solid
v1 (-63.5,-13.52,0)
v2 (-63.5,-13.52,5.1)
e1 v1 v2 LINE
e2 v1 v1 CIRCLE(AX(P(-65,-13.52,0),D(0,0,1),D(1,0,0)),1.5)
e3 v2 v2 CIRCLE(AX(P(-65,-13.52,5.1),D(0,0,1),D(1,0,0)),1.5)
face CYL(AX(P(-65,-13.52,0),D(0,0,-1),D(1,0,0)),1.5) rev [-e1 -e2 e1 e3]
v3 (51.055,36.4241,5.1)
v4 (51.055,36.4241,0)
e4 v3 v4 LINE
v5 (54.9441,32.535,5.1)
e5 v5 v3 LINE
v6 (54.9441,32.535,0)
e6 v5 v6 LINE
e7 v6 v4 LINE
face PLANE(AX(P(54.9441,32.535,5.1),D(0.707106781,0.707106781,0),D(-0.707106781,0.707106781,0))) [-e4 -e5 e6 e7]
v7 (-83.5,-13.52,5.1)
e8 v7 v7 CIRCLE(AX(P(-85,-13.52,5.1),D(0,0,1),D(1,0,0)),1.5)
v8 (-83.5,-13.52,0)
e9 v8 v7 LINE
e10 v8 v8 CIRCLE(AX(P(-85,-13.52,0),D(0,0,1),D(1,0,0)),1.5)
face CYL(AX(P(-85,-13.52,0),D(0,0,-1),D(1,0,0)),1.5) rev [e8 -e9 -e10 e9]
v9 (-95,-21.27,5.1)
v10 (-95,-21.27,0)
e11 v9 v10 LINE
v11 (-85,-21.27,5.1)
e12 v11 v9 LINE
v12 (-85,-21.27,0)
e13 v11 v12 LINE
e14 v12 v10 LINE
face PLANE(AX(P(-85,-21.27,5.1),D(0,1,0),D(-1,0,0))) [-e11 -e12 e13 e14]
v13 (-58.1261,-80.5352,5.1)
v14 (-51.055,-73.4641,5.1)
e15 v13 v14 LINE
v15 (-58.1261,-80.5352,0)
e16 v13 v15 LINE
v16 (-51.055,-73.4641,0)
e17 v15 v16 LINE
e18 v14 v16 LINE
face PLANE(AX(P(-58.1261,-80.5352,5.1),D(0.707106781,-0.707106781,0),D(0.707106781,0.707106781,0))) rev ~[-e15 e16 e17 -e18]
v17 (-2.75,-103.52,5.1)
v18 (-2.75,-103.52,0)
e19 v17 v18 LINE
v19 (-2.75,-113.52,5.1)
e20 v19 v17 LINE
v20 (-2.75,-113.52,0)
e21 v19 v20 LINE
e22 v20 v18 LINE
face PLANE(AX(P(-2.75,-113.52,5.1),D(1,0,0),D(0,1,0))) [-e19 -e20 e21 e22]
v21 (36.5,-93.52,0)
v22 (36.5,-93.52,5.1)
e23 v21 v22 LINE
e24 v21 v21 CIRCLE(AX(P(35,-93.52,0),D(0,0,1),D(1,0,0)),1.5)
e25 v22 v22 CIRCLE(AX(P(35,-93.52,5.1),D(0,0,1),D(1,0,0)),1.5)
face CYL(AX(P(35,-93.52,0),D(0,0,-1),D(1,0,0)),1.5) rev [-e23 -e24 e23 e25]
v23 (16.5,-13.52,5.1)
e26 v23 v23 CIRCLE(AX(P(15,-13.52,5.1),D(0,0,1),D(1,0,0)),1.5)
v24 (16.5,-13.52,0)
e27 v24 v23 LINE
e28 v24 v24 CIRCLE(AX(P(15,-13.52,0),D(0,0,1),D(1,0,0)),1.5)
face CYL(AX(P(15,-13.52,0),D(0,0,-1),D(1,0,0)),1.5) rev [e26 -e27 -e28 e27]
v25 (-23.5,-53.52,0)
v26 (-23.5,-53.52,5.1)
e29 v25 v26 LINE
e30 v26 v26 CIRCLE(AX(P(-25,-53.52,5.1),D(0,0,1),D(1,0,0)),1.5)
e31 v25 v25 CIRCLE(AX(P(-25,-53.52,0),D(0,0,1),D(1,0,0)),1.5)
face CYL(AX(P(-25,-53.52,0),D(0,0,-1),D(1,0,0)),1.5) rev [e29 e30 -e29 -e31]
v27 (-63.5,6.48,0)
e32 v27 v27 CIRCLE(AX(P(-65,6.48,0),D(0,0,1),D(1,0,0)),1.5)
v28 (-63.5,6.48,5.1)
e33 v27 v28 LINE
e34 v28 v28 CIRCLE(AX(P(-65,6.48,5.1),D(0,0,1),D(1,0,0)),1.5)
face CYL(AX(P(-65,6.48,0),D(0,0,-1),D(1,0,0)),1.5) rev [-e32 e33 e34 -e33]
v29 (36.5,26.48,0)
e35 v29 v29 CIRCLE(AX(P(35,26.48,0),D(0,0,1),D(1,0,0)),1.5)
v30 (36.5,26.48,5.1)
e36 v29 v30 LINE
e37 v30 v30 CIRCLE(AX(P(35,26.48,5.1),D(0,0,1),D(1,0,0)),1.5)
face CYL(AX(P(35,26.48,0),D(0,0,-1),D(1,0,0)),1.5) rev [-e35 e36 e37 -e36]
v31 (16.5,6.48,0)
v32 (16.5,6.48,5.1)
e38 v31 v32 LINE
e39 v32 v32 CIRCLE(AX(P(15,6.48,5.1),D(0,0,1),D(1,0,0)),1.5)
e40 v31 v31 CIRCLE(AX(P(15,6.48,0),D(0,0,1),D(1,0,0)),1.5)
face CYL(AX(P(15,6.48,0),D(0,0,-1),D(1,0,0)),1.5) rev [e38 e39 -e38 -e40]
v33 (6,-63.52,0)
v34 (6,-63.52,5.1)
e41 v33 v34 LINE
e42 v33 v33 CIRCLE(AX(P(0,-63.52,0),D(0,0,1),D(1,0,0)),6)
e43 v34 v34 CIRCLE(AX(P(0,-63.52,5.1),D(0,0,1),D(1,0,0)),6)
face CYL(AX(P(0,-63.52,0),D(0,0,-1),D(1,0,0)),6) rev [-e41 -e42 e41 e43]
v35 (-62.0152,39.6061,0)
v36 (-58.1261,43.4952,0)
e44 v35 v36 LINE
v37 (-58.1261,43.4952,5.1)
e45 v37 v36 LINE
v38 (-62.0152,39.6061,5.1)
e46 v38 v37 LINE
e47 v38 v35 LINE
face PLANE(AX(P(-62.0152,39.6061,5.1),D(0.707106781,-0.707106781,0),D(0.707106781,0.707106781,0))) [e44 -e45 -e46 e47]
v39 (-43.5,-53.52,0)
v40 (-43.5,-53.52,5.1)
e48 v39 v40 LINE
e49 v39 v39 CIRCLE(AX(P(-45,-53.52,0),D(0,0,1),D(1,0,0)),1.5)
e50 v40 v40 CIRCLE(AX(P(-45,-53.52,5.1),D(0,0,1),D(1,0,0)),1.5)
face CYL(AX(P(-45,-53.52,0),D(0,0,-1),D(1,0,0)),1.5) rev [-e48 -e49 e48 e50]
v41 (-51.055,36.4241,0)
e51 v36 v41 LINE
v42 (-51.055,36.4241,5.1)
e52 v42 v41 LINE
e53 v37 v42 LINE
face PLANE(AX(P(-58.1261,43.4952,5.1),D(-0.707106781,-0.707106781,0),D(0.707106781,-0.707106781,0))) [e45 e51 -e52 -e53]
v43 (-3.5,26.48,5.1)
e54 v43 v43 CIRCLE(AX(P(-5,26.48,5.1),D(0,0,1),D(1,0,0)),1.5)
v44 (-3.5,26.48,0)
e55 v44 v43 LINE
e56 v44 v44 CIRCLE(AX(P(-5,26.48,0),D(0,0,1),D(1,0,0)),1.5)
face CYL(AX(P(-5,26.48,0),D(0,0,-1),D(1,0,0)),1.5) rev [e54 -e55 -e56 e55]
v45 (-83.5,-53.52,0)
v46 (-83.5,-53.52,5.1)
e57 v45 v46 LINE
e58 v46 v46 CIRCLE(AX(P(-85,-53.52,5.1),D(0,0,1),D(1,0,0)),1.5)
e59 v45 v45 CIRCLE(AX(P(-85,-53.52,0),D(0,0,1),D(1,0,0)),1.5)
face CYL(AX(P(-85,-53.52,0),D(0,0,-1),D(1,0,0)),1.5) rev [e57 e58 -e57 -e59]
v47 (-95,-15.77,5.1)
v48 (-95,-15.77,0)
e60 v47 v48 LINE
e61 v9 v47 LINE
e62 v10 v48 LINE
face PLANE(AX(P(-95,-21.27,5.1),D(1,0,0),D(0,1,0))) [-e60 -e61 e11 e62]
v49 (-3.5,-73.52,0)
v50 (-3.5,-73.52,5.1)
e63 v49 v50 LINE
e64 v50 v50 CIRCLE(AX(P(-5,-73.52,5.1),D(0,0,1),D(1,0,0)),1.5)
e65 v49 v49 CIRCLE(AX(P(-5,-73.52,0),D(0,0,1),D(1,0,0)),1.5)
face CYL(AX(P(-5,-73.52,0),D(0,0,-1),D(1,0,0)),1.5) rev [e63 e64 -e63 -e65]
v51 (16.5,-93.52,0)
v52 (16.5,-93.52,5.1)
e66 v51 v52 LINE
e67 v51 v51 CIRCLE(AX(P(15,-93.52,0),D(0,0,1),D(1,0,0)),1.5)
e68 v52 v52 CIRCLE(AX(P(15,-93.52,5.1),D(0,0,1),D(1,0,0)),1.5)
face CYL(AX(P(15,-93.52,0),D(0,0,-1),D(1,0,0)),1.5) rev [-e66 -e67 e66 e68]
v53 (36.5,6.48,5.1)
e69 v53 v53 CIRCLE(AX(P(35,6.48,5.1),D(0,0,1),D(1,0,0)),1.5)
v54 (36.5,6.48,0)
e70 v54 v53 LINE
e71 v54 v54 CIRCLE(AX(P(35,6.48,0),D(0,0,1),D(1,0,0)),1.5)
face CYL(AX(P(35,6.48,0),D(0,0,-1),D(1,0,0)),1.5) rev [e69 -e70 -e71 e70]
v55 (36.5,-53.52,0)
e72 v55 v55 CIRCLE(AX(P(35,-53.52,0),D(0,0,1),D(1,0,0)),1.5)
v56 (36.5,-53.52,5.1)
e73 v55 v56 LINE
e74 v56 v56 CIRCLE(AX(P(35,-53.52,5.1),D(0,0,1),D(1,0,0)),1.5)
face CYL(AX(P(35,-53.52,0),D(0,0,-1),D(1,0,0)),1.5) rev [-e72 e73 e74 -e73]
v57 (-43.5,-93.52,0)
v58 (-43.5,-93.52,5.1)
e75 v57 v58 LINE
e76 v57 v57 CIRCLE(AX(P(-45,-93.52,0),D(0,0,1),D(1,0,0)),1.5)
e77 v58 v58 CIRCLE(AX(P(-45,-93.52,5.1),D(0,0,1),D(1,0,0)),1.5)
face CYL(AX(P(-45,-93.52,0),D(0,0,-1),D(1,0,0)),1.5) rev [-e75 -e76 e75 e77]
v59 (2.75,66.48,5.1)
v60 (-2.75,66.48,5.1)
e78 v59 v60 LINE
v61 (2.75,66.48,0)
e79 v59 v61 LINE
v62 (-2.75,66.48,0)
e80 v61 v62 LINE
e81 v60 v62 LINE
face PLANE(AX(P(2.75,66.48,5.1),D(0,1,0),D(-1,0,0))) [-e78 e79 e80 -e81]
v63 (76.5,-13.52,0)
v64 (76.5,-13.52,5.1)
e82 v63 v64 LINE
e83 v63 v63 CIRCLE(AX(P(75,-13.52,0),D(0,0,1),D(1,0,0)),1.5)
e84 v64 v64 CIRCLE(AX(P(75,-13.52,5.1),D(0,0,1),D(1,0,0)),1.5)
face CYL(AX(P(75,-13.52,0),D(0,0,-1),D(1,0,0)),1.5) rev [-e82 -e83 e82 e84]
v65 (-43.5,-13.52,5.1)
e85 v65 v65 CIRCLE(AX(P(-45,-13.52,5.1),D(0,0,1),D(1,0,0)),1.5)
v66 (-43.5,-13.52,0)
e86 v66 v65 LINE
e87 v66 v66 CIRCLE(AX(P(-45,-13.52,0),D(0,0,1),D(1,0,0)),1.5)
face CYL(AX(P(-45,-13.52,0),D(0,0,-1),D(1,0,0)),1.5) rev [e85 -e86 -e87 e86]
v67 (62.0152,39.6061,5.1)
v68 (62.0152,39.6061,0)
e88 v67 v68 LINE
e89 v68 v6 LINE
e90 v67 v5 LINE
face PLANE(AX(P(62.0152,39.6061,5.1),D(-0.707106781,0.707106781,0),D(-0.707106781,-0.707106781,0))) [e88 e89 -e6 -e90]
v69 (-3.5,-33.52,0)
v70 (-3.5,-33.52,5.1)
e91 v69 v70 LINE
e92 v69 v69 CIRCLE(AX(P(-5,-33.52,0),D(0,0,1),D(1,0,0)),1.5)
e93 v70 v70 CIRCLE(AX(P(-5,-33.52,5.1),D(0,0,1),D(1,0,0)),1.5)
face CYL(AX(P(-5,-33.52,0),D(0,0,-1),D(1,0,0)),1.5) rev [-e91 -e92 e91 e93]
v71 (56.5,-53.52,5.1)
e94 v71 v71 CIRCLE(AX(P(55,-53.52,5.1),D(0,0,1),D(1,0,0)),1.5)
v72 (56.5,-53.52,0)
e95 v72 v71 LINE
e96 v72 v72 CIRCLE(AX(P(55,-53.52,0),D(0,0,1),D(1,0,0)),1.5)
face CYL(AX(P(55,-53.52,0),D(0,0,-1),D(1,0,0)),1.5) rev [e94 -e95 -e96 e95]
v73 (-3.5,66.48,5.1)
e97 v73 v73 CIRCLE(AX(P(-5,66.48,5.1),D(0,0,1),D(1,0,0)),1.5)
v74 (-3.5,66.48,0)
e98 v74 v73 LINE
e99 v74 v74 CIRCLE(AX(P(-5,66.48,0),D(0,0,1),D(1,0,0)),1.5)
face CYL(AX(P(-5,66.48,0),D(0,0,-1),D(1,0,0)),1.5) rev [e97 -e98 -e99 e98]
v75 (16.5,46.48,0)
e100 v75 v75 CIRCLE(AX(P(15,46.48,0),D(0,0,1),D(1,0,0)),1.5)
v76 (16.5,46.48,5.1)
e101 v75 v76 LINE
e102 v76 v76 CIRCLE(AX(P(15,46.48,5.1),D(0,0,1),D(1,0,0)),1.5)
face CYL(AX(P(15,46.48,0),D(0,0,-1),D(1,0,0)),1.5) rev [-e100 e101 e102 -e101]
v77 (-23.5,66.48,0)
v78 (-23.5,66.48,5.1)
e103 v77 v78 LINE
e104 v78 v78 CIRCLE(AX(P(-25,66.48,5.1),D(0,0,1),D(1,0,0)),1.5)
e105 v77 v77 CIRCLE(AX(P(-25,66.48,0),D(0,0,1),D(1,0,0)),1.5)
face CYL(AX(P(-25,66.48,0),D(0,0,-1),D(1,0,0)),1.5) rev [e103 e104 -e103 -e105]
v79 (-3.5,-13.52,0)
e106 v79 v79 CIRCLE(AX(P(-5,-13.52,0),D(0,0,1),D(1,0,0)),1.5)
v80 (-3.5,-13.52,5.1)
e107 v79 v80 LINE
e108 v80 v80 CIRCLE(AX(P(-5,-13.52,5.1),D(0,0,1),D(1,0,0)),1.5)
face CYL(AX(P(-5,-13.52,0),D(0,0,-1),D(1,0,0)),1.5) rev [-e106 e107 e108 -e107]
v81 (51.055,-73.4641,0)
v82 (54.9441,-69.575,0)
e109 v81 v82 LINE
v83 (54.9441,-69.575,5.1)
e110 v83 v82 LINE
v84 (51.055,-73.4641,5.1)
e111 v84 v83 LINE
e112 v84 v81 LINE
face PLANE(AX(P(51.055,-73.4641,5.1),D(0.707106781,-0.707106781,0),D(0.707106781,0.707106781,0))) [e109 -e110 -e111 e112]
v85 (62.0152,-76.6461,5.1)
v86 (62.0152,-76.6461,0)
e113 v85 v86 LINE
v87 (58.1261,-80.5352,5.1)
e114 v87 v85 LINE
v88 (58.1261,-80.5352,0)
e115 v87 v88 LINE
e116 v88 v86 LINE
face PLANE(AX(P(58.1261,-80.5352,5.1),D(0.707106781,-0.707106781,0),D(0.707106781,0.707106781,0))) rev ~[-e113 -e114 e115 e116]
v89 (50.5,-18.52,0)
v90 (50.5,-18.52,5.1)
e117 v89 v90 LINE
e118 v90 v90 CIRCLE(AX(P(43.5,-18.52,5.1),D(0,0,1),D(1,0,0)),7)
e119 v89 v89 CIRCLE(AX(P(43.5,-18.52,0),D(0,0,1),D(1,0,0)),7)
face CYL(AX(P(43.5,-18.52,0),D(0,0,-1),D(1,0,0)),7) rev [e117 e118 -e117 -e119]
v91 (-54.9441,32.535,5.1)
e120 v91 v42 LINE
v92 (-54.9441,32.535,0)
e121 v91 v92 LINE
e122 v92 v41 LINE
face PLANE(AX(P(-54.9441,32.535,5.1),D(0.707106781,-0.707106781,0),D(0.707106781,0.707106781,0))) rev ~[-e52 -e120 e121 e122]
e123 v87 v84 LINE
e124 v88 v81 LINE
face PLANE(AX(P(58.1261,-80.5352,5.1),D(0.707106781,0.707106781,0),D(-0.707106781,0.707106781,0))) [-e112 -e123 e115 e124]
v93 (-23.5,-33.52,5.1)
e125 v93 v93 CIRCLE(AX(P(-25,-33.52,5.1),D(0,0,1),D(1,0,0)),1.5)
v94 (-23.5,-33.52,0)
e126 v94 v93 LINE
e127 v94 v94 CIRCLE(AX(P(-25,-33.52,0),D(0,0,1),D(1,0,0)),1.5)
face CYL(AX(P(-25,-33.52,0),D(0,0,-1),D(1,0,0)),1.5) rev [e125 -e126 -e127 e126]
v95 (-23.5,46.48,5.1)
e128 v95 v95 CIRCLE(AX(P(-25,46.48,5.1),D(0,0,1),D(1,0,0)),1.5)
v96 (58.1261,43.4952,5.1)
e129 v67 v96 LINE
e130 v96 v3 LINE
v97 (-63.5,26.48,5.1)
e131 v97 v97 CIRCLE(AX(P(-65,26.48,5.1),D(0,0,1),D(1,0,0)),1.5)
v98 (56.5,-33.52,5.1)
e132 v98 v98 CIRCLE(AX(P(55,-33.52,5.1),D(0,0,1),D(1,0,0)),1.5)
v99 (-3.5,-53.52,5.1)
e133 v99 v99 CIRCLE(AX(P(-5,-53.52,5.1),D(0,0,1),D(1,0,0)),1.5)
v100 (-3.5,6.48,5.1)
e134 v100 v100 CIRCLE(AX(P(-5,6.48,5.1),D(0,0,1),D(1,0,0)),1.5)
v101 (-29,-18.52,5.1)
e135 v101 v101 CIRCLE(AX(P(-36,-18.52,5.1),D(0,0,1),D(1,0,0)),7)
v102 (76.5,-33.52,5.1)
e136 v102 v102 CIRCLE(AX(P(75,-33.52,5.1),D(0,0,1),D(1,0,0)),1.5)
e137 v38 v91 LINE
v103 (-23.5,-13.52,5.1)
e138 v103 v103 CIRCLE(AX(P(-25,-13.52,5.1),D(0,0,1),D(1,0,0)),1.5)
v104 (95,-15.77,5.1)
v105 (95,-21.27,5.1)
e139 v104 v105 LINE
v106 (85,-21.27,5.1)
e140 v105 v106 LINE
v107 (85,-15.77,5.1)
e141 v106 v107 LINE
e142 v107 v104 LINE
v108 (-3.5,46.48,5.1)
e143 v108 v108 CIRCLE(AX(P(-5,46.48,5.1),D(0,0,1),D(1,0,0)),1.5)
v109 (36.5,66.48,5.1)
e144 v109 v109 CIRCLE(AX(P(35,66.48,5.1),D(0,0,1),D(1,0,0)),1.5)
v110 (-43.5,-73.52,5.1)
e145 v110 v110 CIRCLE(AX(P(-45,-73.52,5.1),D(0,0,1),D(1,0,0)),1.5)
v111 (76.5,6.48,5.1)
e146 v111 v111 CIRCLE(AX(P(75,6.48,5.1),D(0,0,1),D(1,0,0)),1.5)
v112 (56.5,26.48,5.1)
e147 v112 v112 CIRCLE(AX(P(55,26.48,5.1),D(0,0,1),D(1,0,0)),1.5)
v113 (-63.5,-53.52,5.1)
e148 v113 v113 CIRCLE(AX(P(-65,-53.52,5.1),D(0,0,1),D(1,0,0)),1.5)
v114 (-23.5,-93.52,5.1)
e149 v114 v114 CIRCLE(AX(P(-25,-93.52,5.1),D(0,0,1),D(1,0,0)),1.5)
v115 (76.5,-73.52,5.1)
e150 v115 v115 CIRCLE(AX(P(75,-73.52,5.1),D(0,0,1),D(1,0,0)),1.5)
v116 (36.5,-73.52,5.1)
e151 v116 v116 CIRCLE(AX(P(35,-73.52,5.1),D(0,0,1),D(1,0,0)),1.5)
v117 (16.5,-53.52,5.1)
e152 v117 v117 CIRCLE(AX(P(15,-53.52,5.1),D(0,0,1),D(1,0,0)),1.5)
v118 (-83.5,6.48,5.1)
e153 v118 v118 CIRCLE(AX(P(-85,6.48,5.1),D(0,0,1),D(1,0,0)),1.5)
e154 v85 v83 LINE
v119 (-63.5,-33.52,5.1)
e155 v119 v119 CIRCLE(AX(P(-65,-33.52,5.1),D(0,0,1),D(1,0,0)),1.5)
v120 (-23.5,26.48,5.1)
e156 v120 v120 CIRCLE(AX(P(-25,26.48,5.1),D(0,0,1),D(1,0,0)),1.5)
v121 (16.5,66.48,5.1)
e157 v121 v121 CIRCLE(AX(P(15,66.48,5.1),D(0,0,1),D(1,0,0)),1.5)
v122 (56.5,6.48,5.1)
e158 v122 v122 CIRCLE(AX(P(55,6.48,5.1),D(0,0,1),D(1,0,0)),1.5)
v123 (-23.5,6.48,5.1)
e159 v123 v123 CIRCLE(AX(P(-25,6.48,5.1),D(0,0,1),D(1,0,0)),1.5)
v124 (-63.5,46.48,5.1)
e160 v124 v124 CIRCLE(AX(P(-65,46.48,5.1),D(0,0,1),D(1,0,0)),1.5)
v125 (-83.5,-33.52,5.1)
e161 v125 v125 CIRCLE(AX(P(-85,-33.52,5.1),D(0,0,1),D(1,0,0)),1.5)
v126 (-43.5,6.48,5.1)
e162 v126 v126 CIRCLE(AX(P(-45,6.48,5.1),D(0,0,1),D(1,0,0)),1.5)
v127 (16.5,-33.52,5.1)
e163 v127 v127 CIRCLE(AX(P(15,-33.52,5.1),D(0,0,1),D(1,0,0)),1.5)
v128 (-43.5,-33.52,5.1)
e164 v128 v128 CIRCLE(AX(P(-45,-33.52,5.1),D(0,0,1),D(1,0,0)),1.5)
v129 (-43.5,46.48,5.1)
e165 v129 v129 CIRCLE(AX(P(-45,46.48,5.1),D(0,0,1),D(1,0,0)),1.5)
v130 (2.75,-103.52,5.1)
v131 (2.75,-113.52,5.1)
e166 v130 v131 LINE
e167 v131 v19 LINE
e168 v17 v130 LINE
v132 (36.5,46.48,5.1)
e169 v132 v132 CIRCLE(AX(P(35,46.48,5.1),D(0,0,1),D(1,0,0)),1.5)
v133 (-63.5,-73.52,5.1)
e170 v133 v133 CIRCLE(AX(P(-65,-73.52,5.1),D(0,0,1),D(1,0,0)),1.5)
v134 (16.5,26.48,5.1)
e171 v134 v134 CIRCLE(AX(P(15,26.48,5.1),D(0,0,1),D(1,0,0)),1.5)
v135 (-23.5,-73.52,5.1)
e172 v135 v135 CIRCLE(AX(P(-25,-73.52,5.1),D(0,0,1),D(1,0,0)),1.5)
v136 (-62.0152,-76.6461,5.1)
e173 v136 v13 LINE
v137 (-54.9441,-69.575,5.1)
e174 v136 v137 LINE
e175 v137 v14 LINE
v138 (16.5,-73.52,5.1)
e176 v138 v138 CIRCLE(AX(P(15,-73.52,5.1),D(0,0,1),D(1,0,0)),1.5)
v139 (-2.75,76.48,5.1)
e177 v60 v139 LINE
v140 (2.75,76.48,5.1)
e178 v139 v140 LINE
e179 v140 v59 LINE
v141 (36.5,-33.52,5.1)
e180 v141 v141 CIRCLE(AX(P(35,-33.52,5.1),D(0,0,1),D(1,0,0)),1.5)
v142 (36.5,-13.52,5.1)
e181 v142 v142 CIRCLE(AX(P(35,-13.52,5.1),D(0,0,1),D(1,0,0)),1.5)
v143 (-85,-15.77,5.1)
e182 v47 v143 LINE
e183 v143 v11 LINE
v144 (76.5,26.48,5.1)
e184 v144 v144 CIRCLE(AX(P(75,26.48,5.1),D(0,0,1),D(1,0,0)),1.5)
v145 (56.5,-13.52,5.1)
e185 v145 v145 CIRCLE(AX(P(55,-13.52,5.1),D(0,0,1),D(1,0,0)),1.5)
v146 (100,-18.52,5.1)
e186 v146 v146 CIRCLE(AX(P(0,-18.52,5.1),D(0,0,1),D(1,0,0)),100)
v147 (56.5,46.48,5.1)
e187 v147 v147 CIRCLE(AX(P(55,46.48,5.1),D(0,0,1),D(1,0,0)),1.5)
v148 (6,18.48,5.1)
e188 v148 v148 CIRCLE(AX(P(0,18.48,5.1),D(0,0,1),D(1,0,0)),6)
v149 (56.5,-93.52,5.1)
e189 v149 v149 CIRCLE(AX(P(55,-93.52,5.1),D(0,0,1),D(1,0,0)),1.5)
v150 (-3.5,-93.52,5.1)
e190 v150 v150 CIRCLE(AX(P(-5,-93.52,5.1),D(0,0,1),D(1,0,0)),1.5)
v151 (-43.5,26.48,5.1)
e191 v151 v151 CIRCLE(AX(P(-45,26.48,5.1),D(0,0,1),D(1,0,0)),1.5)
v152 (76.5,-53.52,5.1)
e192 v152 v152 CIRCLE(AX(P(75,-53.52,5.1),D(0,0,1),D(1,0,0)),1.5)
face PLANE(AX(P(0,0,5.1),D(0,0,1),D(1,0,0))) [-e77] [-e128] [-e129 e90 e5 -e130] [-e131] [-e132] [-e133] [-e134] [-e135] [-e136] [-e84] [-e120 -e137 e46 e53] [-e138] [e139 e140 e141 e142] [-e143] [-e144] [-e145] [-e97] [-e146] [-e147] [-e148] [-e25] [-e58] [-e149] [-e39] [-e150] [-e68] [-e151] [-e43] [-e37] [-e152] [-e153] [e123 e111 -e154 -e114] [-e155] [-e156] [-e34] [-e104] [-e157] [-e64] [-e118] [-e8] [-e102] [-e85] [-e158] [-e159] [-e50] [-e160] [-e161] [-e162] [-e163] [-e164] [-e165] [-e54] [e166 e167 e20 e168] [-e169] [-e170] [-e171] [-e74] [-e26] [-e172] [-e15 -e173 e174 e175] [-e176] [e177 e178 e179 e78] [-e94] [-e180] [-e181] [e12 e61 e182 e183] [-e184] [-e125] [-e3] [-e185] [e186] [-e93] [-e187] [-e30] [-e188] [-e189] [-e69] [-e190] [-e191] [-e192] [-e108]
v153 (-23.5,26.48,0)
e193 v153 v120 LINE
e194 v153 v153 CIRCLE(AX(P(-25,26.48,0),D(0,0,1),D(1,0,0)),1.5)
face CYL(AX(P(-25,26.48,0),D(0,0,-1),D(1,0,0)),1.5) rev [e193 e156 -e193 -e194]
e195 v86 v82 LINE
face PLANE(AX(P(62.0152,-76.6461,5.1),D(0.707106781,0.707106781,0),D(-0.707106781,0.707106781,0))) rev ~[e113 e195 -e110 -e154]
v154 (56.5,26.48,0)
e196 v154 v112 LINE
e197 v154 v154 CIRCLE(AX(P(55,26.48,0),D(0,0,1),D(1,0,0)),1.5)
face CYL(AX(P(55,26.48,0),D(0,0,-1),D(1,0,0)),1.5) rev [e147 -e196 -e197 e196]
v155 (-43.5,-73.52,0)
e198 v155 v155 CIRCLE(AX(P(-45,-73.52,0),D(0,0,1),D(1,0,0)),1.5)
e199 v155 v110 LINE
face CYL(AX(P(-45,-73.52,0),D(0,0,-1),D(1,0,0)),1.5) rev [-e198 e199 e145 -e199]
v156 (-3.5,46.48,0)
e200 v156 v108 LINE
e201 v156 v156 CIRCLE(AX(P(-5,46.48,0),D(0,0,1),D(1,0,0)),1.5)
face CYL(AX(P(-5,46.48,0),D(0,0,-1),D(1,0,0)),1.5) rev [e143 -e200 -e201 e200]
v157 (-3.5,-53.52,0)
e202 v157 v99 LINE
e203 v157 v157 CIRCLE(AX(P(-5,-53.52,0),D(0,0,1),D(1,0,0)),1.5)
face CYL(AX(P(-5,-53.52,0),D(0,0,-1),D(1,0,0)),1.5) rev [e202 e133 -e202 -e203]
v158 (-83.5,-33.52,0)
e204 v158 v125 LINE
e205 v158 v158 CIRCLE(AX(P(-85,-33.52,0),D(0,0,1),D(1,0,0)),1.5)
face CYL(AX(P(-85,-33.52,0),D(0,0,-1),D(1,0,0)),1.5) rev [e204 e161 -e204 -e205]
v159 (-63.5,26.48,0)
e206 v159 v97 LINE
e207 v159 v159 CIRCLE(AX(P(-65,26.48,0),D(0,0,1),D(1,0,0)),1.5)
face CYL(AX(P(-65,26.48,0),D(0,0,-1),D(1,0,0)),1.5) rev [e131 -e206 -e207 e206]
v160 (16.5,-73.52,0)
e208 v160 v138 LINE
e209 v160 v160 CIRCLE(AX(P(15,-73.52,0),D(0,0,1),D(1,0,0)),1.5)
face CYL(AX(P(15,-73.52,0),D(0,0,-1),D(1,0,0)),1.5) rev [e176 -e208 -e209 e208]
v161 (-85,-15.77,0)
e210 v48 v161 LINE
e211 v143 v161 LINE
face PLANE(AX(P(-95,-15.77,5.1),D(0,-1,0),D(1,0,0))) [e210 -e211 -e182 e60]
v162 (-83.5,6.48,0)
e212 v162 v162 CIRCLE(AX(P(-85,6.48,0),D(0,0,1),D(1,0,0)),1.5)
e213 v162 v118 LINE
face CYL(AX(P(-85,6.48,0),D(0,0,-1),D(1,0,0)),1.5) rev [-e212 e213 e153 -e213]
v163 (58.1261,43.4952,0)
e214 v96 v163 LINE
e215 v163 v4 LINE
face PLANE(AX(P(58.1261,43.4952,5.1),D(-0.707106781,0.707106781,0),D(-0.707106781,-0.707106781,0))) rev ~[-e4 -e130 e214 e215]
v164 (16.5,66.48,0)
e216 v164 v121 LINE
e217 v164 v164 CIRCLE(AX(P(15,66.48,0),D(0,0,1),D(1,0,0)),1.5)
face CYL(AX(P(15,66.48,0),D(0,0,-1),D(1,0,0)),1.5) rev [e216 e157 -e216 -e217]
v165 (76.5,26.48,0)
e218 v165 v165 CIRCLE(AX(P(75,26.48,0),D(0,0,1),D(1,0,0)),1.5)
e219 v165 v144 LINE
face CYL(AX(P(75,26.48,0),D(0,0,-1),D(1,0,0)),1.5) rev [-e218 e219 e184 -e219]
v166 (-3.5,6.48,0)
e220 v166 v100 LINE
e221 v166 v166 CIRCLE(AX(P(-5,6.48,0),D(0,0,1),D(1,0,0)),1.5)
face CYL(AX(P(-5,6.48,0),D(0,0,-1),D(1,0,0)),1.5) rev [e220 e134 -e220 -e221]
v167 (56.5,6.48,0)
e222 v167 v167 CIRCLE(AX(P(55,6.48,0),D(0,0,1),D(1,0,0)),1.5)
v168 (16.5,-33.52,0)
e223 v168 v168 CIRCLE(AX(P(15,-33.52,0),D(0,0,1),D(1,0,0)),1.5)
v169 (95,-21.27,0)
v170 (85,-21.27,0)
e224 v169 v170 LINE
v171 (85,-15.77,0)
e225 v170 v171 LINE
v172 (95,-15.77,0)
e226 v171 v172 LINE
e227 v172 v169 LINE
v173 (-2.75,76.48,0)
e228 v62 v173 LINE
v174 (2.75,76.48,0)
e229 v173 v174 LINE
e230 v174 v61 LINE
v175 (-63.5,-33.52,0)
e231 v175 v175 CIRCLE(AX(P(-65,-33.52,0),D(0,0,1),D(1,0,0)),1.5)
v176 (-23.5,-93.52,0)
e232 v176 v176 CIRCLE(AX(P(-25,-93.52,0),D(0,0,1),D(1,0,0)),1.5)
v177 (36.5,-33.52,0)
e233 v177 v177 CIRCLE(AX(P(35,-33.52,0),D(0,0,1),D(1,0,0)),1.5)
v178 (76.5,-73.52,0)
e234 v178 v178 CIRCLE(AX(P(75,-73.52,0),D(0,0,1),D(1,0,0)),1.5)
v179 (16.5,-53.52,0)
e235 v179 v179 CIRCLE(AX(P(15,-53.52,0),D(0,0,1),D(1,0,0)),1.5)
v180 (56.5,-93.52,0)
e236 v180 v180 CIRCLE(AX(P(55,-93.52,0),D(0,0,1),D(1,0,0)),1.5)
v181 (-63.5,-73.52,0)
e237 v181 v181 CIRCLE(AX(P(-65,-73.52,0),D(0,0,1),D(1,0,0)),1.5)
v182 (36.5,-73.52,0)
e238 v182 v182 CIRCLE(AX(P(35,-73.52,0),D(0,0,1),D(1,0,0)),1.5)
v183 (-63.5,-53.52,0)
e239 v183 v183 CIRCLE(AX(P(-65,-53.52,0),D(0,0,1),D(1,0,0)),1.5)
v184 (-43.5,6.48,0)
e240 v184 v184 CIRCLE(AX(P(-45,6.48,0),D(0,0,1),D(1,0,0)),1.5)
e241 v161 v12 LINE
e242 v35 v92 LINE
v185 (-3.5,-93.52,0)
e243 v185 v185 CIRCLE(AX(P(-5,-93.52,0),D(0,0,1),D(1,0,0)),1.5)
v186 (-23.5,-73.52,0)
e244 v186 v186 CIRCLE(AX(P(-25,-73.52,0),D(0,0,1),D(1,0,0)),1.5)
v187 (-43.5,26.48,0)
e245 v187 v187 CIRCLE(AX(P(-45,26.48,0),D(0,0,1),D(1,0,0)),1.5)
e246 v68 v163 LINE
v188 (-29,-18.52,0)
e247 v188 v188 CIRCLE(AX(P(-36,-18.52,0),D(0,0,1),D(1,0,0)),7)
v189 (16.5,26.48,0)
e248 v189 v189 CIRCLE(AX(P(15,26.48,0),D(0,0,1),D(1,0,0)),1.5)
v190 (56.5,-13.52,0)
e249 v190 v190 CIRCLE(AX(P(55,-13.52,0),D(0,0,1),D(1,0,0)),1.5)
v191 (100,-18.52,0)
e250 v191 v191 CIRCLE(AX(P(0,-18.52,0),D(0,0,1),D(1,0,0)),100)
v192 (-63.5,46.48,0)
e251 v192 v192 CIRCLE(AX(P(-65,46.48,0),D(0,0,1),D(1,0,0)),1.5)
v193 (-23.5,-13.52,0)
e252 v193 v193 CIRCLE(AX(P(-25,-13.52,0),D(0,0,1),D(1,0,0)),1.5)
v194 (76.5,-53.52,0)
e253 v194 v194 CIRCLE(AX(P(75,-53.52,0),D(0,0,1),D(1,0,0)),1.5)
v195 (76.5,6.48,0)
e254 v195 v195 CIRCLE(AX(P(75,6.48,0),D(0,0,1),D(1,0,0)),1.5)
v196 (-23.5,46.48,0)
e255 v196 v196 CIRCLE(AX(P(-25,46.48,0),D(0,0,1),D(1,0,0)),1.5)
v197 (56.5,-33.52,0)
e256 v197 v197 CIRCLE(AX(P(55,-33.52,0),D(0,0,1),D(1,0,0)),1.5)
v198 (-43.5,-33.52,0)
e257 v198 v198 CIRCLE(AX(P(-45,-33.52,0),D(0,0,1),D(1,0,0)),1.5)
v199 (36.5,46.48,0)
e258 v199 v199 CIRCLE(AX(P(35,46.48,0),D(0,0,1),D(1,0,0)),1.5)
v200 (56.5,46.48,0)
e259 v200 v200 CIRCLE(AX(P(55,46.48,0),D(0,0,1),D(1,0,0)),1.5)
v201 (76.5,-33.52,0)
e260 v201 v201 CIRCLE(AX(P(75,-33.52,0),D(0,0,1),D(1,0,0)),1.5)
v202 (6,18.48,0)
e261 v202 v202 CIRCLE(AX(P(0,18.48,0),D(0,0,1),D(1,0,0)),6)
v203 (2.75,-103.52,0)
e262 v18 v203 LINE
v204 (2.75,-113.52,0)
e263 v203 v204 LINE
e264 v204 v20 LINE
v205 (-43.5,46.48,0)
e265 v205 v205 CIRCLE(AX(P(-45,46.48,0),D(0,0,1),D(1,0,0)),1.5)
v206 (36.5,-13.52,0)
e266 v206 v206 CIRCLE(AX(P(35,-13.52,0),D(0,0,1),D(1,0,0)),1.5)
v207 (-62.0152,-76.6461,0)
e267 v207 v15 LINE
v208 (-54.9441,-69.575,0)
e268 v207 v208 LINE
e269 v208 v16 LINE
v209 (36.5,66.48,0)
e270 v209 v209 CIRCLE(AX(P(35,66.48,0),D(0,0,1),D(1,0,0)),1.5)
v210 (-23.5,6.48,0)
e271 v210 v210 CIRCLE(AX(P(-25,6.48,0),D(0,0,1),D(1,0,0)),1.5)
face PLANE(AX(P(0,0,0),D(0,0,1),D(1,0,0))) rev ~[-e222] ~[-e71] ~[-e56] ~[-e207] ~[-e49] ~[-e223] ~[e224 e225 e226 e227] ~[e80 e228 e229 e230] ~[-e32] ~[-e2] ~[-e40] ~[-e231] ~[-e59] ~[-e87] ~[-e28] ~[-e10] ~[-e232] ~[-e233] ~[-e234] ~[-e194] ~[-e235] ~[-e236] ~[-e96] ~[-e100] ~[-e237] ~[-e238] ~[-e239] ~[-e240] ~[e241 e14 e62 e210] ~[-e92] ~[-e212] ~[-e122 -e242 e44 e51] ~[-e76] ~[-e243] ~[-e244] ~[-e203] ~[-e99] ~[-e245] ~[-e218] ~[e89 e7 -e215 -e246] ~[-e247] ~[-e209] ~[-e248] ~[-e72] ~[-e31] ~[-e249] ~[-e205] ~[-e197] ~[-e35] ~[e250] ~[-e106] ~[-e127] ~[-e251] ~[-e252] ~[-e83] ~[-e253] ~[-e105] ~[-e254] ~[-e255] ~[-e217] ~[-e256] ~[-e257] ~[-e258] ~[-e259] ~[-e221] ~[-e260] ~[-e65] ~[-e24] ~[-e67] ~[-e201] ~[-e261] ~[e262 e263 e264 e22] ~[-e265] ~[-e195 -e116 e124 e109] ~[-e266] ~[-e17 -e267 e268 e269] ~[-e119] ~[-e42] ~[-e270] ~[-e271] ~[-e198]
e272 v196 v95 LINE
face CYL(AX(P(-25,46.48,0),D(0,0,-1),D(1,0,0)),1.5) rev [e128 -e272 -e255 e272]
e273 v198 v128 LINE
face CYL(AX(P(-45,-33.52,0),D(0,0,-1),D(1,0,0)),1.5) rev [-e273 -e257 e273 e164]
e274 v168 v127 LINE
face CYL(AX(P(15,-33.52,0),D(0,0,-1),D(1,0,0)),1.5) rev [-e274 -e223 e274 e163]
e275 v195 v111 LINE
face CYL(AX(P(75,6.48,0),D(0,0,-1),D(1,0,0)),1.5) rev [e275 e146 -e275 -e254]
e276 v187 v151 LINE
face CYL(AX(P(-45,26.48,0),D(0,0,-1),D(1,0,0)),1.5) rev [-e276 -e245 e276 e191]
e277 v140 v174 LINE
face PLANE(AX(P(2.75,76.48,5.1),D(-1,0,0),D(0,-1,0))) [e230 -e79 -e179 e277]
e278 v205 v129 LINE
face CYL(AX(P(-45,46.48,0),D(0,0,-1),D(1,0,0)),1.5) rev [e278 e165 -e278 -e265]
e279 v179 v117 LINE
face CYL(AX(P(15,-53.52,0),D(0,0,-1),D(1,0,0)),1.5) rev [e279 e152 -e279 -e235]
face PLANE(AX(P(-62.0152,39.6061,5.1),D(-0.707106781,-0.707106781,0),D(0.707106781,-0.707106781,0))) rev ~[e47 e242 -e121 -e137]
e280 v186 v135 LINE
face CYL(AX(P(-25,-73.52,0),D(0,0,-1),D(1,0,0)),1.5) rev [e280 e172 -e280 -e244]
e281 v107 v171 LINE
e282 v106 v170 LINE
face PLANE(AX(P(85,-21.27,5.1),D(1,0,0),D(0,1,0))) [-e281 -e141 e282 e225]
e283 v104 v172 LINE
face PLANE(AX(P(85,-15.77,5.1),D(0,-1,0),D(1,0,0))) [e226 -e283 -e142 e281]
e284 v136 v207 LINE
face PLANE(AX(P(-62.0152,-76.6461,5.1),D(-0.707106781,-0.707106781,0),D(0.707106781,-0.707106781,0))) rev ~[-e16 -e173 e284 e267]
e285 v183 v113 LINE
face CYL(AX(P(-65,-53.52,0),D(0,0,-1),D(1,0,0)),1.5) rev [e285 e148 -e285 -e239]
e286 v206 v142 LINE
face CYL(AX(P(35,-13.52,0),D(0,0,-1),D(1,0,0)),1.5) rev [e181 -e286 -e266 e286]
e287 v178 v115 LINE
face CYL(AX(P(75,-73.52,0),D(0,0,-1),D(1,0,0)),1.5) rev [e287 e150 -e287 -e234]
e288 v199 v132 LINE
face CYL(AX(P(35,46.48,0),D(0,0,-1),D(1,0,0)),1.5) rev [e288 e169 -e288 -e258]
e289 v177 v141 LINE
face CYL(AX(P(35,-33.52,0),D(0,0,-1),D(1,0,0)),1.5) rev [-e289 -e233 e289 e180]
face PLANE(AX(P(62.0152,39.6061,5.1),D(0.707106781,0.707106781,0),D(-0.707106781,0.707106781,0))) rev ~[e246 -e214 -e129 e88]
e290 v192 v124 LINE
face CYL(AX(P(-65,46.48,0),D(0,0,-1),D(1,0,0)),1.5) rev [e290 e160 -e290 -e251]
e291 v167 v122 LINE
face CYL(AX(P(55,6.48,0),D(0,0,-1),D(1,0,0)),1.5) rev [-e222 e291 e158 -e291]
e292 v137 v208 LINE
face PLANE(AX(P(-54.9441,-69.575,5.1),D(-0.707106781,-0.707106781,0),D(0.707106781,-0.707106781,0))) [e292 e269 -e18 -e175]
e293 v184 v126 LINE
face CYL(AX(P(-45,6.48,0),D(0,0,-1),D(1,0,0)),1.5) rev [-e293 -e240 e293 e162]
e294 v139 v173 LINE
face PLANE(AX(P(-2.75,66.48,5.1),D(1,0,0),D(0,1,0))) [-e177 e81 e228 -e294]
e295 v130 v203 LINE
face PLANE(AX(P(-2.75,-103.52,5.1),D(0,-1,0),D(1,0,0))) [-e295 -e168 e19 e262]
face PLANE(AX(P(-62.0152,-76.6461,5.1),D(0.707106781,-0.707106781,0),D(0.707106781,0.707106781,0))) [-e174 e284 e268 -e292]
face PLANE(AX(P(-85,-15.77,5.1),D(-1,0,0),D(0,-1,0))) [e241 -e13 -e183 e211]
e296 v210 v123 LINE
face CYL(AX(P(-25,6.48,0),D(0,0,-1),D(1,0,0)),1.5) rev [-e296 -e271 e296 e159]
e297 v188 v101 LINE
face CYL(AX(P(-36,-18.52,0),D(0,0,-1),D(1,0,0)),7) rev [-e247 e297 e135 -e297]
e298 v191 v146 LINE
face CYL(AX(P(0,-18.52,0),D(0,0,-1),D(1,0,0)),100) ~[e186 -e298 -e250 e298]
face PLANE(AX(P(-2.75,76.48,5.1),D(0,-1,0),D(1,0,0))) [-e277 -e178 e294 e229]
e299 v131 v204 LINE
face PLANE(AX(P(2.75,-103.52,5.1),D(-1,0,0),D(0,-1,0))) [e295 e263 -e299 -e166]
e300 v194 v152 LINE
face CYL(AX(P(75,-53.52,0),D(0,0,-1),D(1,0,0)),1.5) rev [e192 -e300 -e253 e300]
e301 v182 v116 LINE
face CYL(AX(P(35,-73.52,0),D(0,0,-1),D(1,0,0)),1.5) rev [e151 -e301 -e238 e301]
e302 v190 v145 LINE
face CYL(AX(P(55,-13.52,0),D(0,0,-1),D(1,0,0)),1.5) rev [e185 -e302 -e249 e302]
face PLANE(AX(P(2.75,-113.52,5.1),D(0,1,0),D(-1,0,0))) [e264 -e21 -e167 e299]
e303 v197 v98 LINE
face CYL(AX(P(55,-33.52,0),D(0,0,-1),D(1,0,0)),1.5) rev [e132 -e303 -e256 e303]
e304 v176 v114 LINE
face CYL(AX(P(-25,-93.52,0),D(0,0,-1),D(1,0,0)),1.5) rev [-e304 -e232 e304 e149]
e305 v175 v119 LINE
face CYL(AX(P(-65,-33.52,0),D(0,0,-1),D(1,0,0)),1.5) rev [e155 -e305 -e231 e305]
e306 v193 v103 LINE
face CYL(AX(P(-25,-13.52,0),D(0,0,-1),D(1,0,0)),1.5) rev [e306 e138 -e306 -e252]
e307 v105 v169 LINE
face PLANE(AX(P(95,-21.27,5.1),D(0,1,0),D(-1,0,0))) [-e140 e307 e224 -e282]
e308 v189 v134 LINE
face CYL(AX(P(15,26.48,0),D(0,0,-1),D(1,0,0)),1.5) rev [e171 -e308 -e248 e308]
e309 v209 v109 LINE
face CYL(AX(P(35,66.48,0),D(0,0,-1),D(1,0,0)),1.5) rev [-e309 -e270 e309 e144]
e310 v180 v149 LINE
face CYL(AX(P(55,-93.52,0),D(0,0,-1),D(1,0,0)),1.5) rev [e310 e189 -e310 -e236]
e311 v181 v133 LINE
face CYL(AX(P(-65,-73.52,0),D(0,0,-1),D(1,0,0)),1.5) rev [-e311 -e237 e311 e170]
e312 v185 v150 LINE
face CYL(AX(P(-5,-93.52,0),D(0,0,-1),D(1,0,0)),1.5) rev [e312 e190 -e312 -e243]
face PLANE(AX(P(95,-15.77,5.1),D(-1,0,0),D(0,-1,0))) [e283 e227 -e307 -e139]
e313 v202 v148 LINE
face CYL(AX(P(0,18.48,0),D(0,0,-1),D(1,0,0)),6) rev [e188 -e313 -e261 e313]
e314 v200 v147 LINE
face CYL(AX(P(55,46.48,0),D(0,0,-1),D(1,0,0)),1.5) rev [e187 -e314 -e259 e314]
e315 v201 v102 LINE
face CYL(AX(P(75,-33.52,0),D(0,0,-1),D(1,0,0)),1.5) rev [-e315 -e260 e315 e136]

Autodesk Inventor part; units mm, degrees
ref_plane "YZ Plane" through (0, 0, 0) normal (1, 0, 0) x (0, 1, 0)
ref_plane "XZ Plane" through (0, 0, 0) normal (0, 1, 0) x (-1, 0, 0)
ref_plane "XY Plane" through (0, 0, 0) normal (0, 0, 1) x (1, 0, 0)
sketch "Sketch1" plane through (0, 0, 0) normal (0, 0, 1) x (1, 0, 0)
  circle A0 centre (0, -18.52) radius 100
  line L0 (65, -83.52) -> (-65, -83.52) construction
  line L1 (-65, -83.52) -> (-65, 46.48) construction
  line L2 (-65, 46.48) -> (65, 46.48) construction
  line L3 (65, 46.48) -> (65, -83.52) construction
  line L4 (65, -83.52) -> (-65, 46.48) construction
  line L5 (-65, -83.52) -> (65, 46.48) construction
  line L6 (45, 26.48) -> (-45, 26.48) construction
  line L7 (-45, 26.48) -> (-45, -63.52) construction
  line L8 (-45, -63.52) -> (45, -63.52) construction
  line L9 (45, -63.52) -> (45, 26.48) construction
  line L10 (-25, 6.48) -> (25, 6.48) construction
  line L11 (25, 6.48) -> (25, -43.52) construction
  line L12 (25, -43.52) -> (-25, -43.52) construction
  line L13 (-25, -43.52) -> (-25, 6.48) construction
  line L14 (5, -13.52) -> (-5, -13.52) construction
  line L15 (-5, -13.52) -> (-5, -23.52) construction
  line L16 (-5, -23.52) -> (5, -23.52) construction
  line L17 (5, -23.52) -> (5, -13.52) construction
  circle A1 centre (-65, 46.48) radius 1.5
  circle A2 centre (-45, 46.48) radius 1.5
  circle A3 centre (-25, 46.48) radius 1.5
  circle A4 centre (-5, 46.48) radius 1.5
  circle A5 centre (15, 46.48) radius 1.5
  circle A6 centre (35, 46.48) radius 1.5
  circle A7 centre (55, 46.48) radius 1.5
  circle A8 centre (-65, 26.48) radius 1.5
  circle A9 centre (-65, 6.48) radius 1.5
  circle A10 centre (-65, -13.52) radius 1.5
  circle A11 centre (-65, -33.52) radius 1.5
  circle A12 centre (-65, -53.52) radius 1.5
  circle A13 centre (-65, -73.52) radius 1.5
  circle A14 centre (-45, 26.48) radius 1.5
  circle A15 centre (-25, 26.48) radius 1.5
  circle A16 centre (-5, 26.48) radius 1.5
  circle A17 centre (15, 26.48) radius 1.5
  circle A18 centre (35, 26.48) radius 1.5
  circle A19 centre (55, 26.48) radius 1.5
  circle A20 centre (-45, 6.48) radius 1.5
  circle A21 centre (-25, 6.48) radius 1.5
  circle A22 centre (-5, 6.48) radius 1.5
  circle A23 centre (15, 6.48) radius 1.5
  circle A24 centre (35, 6.48) radius 1.5
  circle A25 centre (55, 6.48) radius 1.5
  circle A26 centre (75, 6.48) radius 1.5
  circle A27 centre (-45, -13.52) radius 1.5
  circle A28 centre (-25, -13.52) radius 1.5
  circle A29 centre (-5, -13.52) radius 1.5
  circle A30 centre (15, -13.52) radius 1.5
  circle A31 centre (35, -13.52) radius 1.5
  circle A32 centre (55, -13.52) radius 1.5
  circle A33 centre (75, -13.52) radius 1.5
  circle A34 centre (-85, 6.48) radius 1.5
  circle A35 centre (-85, -13.52) radius 1.5
  circle A36 centre (-85, -33.52) radius 1.5
  circle A37 centre (-45, -33.52) radius 1.5
  circle A38 centre (-25, -33.52) radius 1.5
  circle A39 centre (-5, -33.52) radius 1.5
  circle A40 centre (15, -33.52) radius 1.5
  circle A41 centre (35, -33.52) radius 1.5
  circle A42 centre (55, -33.52) radius 1.5
  circle A43 centre (75, -33.52) radius 1.5
  circle A44 centre (-85, -53.52) radius 1.5
  circle A45 centre (-45, -53.52) radius 1.5
  circle A46 centre (-25, -53.52) radius 1.5
  circle A47 centre (-5, -53.52) radius 1.5
  circle A48 centre (15, -53.52) radius 1.5
  circle A49 centre (35, -53.52) radius 1.5
  circle A50 centre (55, -53.52) radius 1.5
  circle A51 centre (75, -53.52) radius 1.5
  circle A52 centre (-45, -73.52) radius 1.5
  circle A53 centre (-25, -73.52) radius 1.5
  circle A54 centre (-5, -73.52) radius 1.5
  circle A55 centre (15, -73.52) radius 1.5
  circle A56 centre (35, -73.52) radius 1.5
  circle A57 centre (55, -73.52) radius 1.5
  circle A58 centre (75, -73.52) radius 1.5
  circle A59 centre (75, 26.48) radius 1.5
  line L18 (0, -18.52) -> (0, 118.6528) construction
  line L19 (0, -18.52) -> (87, -18.52) construction
  circle A60 centre (0, 18.48) radius 6
  circle A61 centre (0, -63.52) radius 6
  circle A62 centre (-36, -18.52) radius 7
  circle A63 centre (43.5, -18.52) radius 7
  line L20 (-25, 46.48) -> (-25, 71.8994) construction
  circle A64 centre (-25, 66.48) radius 1.5
  circle A65 centre (-5, 66.48) radius 1.5
  circle A66 centre (15, 66.48) radius 1.5
  circle A67 centre (35, 66.48) radius 1.5
  circle A68 centre (-45, -93.52) radius 1.5
  circle A69 centre (-25, -93.52) radius 1.5
  circle A70 centre (-5, -93.52) radius 1.5
  circle A71 centre (15, -93.52) radius 1.5
  circle A72 centre (35, -93.52) radius 1.5
  circle A73 centre (55, -93.52) radius 1.5
  point P0 (0, 0)
  point P1 (-20, 81.3433)
  point P2 (-25.16, 81.3433)
  point P3 (-25, -18.52)
  dimension "d52" = 200
  dimension "d54" = 130
  dimension "d55" = 20
  dimension "d56" = 20
  dimension "d57" = 20
  dimension "d58" = 3
  dimension "d59" = 20
  dimension "d60" = 20
  dimension "d61" = 20
  dimension "d62" = 20
  dimension "d63" = 20
  dimension "d64" = 20
  dimension "d65" = 20
  dimension "d66" = 20
  dimension "d67" = 20
  dimension "d68" = 20
  dimension "d69" = 20
  dimension "d70" = 20
  dimension "d71" = 20
  dimension "d79" = 12
  dimension "d80" = 37
  dimension "d81" = 12
  dimension "d82" = 14
  dimension "d85" = 14
  dimension "d86" = 43.5
  dimension "d102" = 20
  dimension "d109" = 20
  dimension "d116" = 20
  dimension "d123" = 20
  dimension "d130" = 20
  dimension "d137" = 20
  dimension "d144" = 20
  dimension "d151" = 20
  dimension "d158" = 20
  dimension "d165" = 20
extrude "Extrusion1" add sketch "Sketch1" along normal blind 5.1
sketch "Sketch2" plane through (0, -18.52, 5.1) normal (0, 0, 1) x (1, 0, 0)
  line L0 (-85, -2.75) -> (-95, -2.75)
  line L1 (-95, -2.75) -> (-95, 2.75)
  line L2 (-95, 2.75) -> (-85, 2.75)
  line L3 (-85, 2.75) -> (-85, -2.75)
  line L4 (-85, -2.75) -> (-95, 2.75) construction
  line L5 (-95, -2.75) -> (-85, 2.75) construction
  circle A0 centre (0, 0) radius 100 projected
  circle A1 centre (55, -75) radius 1.5 projected
  circle A2 centre (35, -75) radius 1.5 projected
  circle A3 centre (15, -75) radius 1.5 projected
  circle A4 centre (-5, -75) radius 1.5 projected
  circle A5 centre (-25, -75) radius 1.5 projected
  circle A6 centre (-45, -75) radius 1.5 projected
  circle A7 centre (35, 85) radius 1.5 projected
  circle A8 centre (15, 85) radius 1.5 projected
  circle A9 centre (-5, 85) radius 1.5 projected
  circle A10 centre (-25, 85) radius 1.5 projected
  circle A11 centre (-5, -35) radius 1.5 projected
  circle A12 centre (15, -35) radius 1.5 projected
  circle A13 centre (0, -45) radius 6 projected
  circle A14 centre (15, -55) radius 1.5 projected
  circle A15 centre (-5, -55) radius 1.5 projected
  circle A16 centre (75, -55) radius 1.5 projected
  circle A17 centre (75, -35) radius 1.5 projected
  circle A18 centre (55, -55) radius 1.5 projected
  circle A19 centre (35, -55) radius 1.5 projected
  circle A20 centre (55, -35) radius 1.5 projected
  circle A21 centre (35, -35) radius 1.5 projected
  circle A22 centre (75, -15) radius 1.5 projected
  circle A23 centre (55, -15) radius 1.5 projected
  circle A24 centre (35, -15) radius 1.5 projected
  circle A25 centre (15, -15) radius 1.5 projected
  circle A26 centre (-85, 25) radius 1.5 projected
  circle A27 centre (-45, 25) radius 1.5 projected
  circle A28 centre (-25, 25) radius 1.5 projected
  circle A29 centre (-85, 5) radius 1.5 projected
  circle A30 centre (-25, 5) radius 1.5 projected
  circle A31 centre (-45, 5) radius 1.5 projected
  circle A32 centre (-85, -15) radius 1.5 projected
  circle A33 centre (-65, -15) radius 1.5 projected
  circle A34 centre (-65, 5) radius 1.5 projected
  circle A35 centre (-65, 25) radius 1.5 projected
  circle A36 centre (-65, 45) radius 1.5 projected
  circle A37 centre (-65, 65) radius 1.5 projected
  circle A38 centre (-45, -15) radius 1.5 projected
  circle A39 centre (-36, 0) radius 7 projected
  circle A40 centre (-25, -15) radius 1.5 projected
  circle A41 centre (43.5, 0) radius 7 projected
  circle A42 centre (35, 5) radius 1.5 projected
  circle A43 centre (55, 5) radius 1.5 projected
  circle A44 centre (75, 5) radius 1.5 projected
  circle A45 centre (-25, -55) radius 1.5 projected
  circle A46 centre (-45, -55) radius 1.5 projected
  circle A47 centre (-65, -55) radius 1.5 projected
  circle A48 centre (-45, -35) radius 1.5 projected
  circle A49 centre (-25, -35) radius 1.5 projected
  circle A50 centre (-85, -35) radius 1.5 projected
  circle A51 centre (-65, -35) radius 1.5 projected
  circle A52 centre (75, 45) radius 1.5 projected
  circle A53 centre (75, 25) radius 1.5 projected
  circle A54 centre (55, 65) radius 1.5 projected
  circle A55 centre (55, 45) radius 1.5 projected
  circle A56 centre (35, 65) radius 1.5 projected
  circle A57 centre (15, 65) radius 1.5 projected
  circle A58 centre (35, 45) radius 1.5 projected
  circle A59 centre (55, 25) radius 1.5 projected
  circle A60 centre (15, 45) radius 1.5 projected
  circle A61 centre (35, 25) radius 1.5 projected
  circle A62 centre (0, 37) radius 6 projected
  circle A63 centre (-5, 5) radius 1.5 projected
  circle A64 centre (15, 5) radius 1.5 projected
  circle A65 centre (15, 25) radius 1.5 projected
  circle A66 centre (-5, -15) radius 1.5 projected
  circle A67 centre (-5, 25) radius 1.5 projected
  circle A68 centre (-45, 45) radius 1.5 projected
  circle A69 centre (-45, 65) radius 1.5 projected
  circle A70 centre (-25, 45) radius 1.5 projected
  circle A71 centre (-5, 45) radius 1.5 projected
  circle A72 centre (-25, 65) radius 1.5 projected
  circle A73 centre (-5, 65) radius 1.5 projected
  line L6 (-2.75, -95) -> (-2.75, -85)
  line L7 (-2.75, -85) -> (2.75, -85)
  line L8 (2.75, -85) -> (2.75, -95)
  line L9 (2.75, -95) -> (-2.75, -95)
  line L10 (95, -2.75) -> (85, -2.75)
  line L11 (85, -2.75) -> (85, 2.75)
  line L12 (85, 2.75) -> (95, 2.75)
  line L13 (95, 2.75) -> (95, -2.75)
  line L14 (2.75, 95) -> (2.75, 85)
  line L15 (2.75, 85) -> (-2.75, 85)
  line L16 (-2.75, 85) -> (-2.75, 95)
  line L17 (-2.75, 95) -> (2.75, 95)
  point P0 (0, 18.52)
  point P1 (-90, 0)
  point P2 (-95, 0)
  point P3 (-90, -2.75)
  point P4 (2.75, -90)
  point P5 (0, -95)
  point P6 (90, 2.75)
  point P7 (95, 0)
  point P8 (-2.75, 90)
  point P9 (0, 95)
  dimension "d176" = 90
  dimension "d177" = 95
  dimension "d178" = 2.75
  dimension "d181" = 360
extrude "Extrusion2" cut sketch "Sketch2" against normal blind 10 contours L0 L1 L2 L3 | L6 L7 L8 L9 | L10 L11 L12 L13 | L14 L15 L16 L17
sketch "Sketch3" plane through (0, -18.52, 5.1) normal (0, 0, 1) x (1, 0, 0)
  line L0 (0, 0) -> (-61.3465, 61.3465) construction
  line L1 (0, 0) -> (-16.1395, 0) construction
  line L2 (0, 0) -> (-21.5595, -21.5595) construction
  line L3 (-58.1261, 62.0152) -> (-51.055, 54.9441)
  line L4 (-62.0152, 58.1261) -> (-54.9441, 51.055)
  line L5 (-62.0152, 58.1261) -> (-58.1261, 62.0152)
  line L6 (-54.9441, 51.055) -> (-51.055, 54.9441)
  line L7 (0, 0) -> (61.3465, -61.3465) construction
  line L8 (62.0152, -58.1261) -> (54.9441, -51.055)
  line L9 (58.1261, -62.0152) -> (51.055, -54.9441)
  line L10 (58.1261, -62.0152) -> (62.0152, -58.1261)
  line L11 (51.055, -54.9441) -> (54.9441, -51.055)
  circle A0 centre (0, 0) radius 100 projected
  line L12 (54.9441, 51.055) -> (51.055, 54.9441)
  line L13 (62.0152, 58.1261) -> (54.9441, 51.055)
  line L14 (58.1261, 62.0152) -> (51.055, 54.9441)
  line L15 (0, 0) -> (61.3465, 61.3465) construction
  line L16 (62.0152, 58.1261) -> (58.1261, 62.0152)
  line L17 (-51.055, 54.9441) -> (-54.9441, 51.055)
  line L18 (-58.1261, 62.0152) -> (-51.055, 54.9441)
  line L19 (-62.0152, 58.1261) -> (-54.9441, 51.055)
  line L20 (0, 0) -> (-61.3465, 61.3465) construction
  line L21 (-58.1261, 62.0152) -> (-62.0152, 58.1261)
  line L22 (-54.9441, -51.055) -> (-51.055, -54.9441)
  line L23 (-62.0152, -58.1261) -> (-54.9441, -51.055)
  line L24 (-58.1261, -62.0152) -> (-51.055, -54.9441)
  line L25 (0, 0) -> (-61.3465, -61.3465) construction
  line L26 (-62.0152, -58.1261) -> (-58.1261, -62.0152)
  point P0 (0, 18.52)
  point P1 (-54.5906, 58.4797)
  point P2 (-58.4797, 54.5906)
  point P3 (58.4797, -54.5906)
  point P4 (54.5906, -58.4797)
  point P5 (54.5906, 58.4797)
  point P6 (58.4797, 54.5906)
  point P7 (-58.4797, 54.5906)
  point P8 (-54.5906, 58.4797)
  point P9 (-54.5906, -58.4797)
  point P10 (-58.4797, -54.5906)
  dimension "d185" = 45
  dimension "d186" = 45
  dimension "d187" = 10
  dimension "d191" = 18.5201
  dimension "d192" = 80
  dimension "d193" = 2.75
  dimension "d194" = 80
  dimension "d195" = 2.75
  dimension "d200" = 360
extrude "Extrusion3" cut sketch "Sketch3" against normal blind 10 contours L3 L6 L4 L5 | L10 L9 L11 L8
extrude "Extrusion4" cut sketch "Sketch3" against normal blind 10 contours L12 L14 L16 L13 | L22 L24 L26 L23
properties part number "midPlate" material "Polycarbonate, Clear"
